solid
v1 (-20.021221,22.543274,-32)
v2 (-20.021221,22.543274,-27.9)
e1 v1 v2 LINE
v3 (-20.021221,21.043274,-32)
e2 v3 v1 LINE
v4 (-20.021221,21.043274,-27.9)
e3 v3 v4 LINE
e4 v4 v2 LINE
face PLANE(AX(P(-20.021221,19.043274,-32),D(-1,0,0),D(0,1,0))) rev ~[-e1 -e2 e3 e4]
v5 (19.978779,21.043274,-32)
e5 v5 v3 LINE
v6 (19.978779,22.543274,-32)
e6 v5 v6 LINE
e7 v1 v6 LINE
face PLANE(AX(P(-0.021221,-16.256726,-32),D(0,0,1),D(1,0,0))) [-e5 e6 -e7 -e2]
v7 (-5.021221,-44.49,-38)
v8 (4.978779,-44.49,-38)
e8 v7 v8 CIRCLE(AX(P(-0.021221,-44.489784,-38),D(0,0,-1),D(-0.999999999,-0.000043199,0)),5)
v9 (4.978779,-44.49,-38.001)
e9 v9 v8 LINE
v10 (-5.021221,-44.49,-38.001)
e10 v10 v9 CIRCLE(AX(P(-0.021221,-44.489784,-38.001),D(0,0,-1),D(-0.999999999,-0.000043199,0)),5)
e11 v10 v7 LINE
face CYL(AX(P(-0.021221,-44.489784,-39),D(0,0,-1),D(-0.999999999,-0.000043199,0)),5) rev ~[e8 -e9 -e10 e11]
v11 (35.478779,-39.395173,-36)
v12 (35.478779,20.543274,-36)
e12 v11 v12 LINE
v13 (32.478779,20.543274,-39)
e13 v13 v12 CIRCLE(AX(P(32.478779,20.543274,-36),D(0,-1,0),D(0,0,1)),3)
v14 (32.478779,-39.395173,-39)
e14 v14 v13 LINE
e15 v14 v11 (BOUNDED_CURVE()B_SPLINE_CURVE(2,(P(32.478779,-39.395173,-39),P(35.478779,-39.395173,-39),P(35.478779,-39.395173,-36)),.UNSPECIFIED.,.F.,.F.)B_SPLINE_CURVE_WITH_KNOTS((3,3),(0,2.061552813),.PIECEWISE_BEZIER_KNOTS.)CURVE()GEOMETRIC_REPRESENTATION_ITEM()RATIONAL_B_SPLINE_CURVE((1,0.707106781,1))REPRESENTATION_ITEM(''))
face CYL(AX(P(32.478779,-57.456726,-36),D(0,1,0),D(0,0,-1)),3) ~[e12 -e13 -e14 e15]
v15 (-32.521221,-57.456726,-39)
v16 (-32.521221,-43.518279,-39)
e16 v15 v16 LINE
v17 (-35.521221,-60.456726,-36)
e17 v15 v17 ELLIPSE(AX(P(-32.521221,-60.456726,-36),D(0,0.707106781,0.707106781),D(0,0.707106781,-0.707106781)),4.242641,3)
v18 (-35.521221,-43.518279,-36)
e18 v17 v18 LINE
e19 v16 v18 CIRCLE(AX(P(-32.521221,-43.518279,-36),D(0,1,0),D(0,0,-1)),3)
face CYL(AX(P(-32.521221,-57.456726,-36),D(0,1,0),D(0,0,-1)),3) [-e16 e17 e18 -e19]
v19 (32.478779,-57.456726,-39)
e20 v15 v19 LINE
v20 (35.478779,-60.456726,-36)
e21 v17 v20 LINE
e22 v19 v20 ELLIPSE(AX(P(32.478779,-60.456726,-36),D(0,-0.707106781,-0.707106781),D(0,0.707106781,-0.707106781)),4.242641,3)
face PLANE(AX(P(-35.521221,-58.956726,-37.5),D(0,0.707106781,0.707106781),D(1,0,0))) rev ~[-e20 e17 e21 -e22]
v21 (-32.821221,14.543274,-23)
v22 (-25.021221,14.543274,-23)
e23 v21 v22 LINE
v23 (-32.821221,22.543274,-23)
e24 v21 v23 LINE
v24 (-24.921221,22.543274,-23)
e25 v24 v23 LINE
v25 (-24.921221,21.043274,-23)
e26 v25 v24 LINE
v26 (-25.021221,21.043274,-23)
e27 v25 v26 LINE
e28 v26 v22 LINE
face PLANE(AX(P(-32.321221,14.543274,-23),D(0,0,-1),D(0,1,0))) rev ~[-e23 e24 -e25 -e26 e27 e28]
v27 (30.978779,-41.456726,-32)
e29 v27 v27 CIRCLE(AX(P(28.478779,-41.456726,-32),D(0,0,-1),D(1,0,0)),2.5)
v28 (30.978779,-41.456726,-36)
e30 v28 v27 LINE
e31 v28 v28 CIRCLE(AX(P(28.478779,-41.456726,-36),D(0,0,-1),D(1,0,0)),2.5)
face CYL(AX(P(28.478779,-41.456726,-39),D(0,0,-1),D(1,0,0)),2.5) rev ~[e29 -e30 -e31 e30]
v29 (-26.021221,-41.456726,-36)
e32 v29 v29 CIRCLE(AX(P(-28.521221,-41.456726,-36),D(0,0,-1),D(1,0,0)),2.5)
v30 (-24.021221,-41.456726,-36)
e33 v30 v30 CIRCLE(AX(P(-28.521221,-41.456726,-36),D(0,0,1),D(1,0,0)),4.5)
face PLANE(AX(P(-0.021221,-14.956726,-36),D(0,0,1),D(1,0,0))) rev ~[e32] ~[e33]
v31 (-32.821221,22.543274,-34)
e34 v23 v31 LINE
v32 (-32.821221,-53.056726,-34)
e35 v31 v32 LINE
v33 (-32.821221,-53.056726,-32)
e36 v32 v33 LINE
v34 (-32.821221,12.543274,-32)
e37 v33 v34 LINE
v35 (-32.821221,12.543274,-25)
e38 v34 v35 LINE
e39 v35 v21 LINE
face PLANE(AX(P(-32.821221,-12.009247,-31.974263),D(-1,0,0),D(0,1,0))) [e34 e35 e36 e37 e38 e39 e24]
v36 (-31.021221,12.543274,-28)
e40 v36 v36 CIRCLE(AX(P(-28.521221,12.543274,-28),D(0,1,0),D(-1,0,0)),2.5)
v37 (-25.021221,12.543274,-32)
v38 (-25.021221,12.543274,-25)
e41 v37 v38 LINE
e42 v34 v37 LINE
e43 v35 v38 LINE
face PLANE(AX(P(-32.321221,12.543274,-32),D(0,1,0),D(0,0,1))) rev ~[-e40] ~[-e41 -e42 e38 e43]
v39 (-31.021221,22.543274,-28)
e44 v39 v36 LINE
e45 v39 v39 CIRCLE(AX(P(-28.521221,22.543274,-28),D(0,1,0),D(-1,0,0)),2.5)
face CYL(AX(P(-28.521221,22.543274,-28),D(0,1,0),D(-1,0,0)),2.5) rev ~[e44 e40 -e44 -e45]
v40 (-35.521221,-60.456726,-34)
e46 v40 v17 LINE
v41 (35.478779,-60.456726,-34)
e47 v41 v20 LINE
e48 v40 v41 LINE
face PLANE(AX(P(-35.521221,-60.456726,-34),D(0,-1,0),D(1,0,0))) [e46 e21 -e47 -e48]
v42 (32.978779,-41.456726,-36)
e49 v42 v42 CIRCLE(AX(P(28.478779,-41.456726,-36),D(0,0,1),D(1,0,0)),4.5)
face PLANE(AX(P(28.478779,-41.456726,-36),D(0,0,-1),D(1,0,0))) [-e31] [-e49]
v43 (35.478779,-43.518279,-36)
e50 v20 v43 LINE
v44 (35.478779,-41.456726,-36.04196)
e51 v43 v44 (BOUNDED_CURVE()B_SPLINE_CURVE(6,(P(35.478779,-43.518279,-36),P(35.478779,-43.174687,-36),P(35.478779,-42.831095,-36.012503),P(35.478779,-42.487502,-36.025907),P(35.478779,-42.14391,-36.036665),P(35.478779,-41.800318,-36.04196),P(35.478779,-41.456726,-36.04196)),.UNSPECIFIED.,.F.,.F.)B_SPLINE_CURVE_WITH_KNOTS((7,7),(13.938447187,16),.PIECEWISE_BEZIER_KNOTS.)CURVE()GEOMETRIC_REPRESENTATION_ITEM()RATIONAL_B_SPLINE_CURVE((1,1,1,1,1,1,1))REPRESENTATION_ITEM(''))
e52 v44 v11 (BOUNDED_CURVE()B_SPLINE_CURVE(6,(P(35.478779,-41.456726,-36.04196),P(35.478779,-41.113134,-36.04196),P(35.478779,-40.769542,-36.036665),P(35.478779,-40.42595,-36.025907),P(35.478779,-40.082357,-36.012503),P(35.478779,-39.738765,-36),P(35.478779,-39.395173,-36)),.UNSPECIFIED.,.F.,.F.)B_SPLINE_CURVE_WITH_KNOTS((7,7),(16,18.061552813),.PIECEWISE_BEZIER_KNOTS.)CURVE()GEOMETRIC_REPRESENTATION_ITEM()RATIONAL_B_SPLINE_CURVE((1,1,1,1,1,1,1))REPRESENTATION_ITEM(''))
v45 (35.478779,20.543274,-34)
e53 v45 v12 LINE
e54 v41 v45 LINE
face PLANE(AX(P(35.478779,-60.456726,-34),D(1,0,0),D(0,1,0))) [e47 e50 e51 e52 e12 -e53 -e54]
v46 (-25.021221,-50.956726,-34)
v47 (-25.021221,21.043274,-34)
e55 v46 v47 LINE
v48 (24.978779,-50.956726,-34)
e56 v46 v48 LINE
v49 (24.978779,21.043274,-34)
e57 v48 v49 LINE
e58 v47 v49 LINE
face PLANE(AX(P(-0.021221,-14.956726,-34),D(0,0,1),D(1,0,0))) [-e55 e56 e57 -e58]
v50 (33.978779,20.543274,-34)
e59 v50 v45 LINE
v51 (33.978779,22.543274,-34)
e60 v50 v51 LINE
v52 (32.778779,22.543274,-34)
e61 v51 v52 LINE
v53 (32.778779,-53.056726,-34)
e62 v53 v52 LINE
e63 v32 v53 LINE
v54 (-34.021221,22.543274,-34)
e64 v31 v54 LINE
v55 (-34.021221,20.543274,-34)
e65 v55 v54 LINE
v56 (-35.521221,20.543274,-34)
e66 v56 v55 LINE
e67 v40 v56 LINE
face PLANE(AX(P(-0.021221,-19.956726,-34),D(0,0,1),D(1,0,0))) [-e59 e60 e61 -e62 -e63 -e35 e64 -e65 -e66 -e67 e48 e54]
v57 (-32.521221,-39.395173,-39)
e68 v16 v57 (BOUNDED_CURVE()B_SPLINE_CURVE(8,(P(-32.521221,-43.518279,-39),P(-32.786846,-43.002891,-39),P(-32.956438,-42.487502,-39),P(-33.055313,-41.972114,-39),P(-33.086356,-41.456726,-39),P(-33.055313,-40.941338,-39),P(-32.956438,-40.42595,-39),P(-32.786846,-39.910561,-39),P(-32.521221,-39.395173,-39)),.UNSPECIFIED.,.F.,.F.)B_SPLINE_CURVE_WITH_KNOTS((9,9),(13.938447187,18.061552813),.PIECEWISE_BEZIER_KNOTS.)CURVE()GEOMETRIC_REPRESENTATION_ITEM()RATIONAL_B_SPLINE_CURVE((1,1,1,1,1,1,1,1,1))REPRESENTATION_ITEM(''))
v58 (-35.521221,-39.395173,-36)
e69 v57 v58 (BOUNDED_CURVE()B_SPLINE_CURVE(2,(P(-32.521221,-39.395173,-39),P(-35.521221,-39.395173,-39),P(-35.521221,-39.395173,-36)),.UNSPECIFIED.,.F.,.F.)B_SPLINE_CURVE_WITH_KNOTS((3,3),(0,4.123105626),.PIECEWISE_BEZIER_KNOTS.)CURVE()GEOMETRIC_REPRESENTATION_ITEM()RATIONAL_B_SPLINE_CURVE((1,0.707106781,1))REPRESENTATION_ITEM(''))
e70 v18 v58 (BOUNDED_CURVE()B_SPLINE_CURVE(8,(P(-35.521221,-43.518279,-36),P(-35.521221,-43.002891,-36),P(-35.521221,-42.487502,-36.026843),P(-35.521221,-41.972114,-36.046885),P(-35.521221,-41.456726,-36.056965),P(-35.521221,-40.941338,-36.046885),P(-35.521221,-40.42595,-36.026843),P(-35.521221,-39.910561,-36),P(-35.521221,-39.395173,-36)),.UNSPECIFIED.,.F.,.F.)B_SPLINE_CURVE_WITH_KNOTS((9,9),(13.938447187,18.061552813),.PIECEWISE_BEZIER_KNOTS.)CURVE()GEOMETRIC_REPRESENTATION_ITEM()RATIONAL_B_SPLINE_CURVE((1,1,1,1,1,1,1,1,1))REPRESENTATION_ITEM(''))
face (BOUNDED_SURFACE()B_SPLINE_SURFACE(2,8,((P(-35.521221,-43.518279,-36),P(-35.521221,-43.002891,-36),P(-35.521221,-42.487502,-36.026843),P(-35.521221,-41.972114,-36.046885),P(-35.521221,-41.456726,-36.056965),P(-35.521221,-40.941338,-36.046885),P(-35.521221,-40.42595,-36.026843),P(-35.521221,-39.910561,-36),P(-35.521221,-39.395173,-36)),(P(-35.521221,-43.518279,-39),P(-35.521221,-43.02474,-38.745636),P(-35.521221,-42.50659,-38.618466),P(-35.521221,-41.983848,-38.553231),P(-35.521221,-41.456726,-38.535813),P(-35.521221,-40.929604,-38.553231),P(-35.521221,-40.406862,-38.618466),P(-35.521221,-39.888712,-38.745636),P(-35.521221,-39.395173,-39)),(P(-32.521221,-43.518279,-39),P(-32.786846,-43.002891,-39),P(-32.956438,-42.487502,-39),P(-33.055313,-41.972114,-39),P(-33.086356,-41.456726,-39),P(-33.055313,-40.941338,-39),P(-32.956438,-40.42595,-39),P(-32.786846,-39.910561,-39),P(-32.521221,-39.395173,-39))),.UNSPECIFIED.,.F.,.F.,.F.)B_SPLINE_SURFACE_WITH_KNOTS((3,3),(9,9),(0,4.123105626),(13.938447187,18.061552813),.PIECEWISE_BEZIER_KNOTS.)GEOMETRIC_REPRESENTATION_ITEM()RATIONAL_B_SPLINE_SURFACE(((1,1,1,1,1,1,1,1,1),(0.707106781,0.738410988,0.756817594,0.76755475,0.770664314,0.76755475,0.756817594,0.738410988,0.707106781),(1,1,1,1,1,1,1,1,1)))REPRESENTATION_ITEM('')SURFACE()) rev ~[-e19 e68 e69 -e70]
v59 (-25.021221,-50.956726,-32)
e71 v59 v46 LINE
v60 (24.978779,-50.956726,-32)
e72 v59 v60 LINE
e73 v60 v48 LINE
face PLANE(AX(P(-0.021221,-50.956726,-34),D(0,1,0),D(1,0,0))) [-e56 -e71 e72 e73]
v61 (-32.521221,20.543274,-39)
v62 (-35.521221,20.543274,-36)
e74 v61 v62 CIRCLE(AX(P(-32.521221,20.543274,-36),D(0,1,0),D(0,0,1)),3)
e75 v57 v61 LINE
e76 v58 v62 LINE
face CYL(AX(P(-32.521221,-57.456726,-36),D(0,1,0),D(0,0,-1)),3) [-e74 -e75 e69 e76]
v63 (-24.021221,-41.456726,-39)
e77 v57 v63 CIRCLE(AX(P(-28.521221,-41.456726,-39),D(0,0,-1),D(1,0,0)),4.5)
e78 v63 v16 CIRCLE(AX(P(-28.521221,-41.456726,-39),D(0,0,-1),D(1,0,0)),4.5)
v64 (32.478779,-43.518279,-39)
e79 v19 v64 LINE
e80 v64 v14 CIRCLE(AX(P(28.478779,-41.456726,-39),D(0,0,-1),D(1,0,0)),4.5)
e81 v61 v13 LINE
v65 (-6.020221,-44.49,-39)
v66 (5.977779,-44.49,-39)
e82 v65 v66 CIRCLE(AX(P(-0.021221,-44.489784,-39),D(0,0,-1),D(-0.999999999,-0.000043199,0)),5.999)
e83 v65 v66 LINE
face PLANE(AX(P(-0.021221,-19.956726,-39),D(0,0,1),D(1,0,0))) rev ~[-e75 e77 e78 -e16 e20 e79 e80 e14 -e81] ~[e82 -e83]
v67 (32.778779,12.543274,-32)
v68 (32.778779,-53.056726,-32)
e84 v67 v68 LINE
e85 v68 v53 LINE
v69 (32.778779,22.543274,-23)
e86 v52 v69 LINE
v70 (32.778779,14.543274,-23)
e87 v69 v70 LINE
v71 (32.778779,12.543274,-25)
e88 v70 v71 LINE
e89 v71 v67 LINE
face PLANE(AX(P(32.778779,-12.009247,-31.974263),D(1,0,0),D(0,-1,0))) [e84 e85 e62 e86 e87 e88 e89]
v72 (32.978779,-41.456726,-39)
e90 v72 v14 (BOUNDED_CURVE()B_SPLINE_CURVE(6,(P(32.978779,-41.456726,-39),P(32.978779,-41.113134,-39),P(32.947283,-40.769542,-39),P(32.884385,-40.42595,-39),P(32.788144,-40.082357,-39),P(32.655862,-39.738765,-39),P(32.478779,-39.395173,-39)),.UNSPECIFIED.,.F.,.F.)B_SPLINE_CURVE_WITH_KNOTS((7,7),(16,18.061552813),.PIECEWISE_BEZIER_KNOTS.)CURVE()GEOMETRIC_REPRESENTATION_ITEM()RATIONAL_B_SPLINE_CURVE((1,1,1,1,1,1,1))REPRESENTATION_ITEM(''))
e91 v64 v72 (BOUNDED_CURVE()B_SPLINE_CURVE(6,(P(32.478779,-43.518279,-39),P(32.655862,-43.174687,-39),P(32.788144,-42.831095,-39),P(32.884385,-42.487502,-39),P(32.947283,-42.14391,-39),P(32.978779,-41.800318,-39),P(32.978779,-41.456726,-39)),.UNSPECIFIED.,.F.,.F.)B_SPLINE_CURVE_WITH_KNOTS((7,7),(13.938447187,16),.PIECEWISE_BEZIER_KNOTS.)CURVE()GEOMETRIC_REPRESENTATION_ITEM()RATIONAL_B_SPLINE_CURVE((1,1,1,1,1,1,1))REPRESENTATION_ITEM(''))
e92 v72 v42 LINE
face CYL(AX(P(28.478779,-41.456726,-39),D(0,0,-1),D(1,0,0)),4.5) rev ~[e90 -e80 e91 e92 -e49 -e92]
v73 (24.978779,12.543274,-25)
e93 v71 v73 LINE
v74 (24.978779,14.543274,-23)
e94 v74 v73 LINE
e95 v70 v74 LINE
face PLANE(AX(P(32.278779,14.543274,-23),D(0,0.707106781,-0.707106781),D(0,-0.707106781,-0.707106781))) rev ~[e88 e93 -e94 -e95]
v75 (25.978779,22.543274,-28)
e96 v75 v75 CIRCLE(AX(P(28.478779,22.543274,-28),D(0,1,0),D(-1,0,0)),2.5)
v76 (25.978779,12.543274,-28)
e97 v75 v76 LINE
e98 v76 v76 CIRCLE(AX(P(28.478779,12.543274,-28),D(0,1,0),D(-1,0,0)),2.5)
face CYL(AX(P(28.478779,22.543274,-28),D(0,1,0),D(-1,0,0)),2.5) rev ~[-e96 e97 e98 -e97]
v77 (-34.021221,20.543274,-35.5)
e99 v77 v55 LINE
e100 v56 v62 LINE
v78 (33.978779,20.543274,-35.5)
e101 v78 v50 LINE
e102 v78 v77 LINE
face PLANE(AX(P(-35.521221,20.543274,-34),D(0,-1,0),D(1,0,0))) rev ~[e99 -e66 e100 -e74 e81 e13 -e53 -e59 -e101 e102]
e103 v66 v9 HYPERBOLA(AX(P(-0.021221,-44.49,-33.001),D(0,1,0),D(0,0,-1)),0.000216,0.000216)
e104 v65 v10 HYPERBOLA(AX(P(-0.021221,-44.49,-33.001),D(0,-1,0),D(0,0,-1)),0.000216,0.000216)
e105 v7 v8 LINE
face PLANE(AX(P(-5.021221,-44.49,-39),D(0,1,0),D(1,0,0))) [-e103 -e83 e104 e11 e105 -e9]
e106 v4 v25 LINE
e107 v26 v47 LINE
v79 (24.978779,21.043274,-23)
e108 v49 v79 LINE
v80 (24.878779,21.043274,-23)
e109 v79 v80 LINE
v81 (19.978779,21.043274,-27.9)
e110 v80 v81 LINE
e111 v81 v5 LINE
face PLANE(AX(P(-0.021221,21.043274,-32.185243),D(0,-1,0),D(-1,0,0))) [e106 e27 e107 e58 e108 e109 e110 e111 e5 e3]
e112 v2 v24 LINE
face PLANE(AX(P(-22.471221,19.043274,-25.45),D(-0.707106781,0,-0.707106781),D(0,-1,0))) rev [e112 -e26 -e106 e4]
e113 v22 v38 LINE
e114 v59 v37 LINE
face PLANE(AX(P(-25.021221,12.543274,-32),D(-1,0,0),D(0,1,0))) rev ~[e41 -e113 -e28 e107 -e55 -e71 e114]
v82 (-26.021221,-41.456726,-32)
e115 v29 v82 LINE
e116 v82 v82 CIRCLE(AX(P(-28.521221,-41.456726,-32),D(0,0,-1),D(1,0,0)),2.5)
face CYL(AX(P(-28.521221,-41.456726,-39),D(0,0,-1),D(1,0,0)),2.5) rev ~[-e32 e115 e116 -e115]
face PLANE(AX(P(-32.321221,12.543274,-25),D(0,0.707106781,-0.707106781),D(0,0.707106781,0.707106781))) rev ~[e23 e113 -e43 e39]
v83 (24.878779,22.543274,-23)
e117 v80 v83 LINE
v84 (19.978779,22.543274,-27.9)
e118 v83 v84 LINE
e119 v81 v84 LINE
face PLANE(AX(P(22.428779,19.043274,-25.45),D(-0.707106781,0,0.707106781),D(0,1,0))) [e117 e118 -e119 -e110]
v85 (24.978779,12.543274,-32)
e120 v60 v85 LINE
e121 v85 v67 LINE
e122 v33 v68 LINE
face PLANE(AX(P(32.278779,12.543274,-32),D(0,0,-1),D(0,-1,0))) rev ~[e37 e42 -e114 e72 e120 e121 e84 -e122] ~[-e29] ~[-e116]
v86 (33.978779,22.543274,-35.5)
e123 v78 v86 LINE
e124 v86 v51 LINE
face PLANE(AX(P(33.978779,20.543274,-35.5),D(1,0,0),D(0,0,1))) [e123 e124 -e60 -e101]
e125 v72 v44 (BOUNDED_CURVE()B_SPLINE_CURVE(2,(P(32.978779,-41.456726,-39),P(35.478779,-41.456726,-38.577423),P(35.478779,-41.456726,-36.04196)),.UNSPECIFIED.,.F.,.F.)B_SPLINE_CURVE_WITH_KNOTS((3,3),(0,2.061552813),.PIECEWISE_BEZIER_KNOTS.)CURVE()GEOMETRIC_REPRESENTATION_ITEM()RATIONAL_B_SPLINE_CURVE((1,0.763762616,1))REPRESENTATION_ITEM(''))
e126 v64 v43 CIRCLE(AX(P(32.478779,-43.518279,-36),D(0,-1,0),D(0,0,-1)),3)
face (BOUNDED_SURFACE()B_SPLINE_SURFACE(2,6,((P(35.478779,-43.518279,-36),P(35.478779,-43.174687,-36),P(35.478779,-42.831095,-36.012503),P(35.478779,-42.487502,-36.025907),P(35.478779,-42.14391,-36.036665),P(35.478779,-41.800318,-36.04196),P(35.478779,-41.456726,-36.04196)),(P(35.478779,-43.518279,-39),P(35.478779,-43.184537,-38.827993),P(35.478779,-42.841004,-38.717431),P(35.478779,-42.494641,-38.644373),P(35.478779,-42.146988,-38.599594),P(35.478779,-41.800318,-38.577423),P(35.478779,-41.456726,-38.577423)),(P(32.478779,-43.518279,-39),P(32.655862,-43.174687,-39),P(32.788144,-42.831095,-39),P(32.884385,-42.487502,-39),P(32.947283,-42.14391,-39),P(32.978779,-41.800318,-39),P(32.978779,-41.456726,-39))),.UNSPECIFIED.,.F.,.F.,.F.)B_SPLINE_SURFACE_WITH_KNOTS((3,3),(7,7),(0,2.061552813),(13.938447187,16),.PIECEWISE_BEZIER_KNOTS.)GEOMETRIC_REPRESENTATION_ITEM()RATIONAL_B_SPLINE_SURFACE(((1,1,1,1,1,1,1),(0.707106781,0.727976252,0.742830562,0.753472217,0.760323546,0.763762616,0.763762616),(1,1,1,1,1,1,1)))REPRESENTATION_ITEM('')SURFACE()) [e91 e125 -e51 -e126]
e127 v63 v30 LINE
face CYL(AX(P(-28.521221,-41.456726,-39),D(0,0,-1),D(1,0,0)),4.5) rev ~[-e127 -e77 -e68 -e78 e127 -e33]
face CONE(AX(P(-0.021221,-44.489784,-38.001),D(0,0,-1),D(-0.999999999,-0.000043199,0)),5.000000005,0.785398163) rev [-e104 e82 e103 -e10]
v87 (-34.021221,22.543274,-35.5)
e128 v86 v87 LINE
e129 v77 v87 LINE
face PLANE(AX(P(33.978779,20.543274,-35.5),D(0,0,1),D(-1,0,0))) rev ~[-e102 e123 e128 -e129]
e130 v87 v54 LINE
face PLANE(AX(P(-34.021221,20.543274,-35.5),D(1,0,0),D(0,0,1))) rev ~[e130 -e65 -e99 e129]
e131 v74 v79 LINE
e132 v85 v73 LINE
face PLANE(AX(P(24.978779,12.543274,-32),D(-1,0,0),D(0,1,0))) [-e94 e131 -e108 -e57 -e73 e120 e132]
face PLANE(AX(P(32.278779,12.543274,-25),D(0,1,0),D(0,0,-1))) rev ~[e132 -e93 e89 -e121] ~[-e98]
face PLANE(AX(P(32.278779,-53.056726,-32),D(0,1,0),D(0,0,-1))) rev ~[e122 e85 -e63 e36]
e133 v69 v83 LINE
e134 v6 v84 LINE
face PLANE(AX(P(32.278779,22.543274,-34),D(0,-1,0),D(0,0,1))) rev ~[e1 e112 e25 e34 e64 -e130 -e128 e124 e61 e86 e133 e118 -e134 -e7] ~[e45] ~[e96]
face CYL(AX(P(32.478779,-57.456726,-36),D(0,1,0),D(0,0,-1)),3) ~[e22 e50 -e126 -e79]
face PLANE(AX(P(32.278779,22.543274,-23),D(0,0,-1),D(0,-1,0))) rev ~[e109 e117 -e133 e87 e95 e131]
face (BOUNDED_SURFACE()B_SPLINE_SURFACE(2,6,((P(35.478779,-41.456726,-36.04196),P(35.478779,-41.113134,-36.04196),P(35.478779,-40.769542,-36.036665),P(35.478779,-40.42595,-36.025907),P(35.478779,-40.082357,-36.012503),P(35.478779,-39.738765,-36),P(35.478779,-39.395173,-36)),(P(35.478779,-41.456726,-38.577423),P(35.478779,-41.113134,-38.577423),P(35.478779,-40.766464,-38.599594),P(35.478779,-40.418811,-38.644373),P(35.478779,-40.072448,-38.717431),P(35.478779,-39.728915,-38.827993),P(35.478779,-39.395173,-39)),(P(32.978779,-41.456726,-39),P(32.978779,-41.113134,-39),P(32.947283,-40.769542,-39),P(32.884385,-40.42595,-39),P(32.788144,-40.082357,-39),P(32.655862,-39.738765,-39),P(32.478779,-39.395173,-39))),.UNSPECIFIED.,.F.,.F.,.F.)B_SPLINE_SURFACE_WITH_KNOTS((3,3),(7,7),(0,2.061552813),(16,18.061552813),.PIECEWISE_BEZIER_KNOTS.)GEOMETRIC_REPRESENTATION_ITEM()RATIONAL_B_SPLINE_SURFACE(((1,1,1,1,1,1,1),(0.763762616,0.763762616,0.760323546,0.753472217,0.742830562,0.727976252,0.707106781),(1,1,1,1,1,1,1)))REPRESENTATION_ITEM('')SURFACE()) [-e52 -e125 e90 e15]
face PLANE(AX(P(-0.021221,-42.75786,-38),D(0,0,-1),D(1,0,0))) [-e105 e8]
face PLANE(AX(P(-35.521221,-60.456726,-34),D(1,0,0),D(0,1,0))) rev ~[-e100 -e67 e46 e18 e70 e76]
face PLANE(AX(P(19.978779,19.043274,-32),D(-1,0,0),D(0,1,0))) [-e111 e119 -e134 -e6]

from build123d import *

# Parameters (mm, degrees)
SKETCH028_W        = 71
SKETCH028_H        = 81
PAD014_DEPTH       = 5
SKETCH034_W        = 68
SKETCH034_H        = 1.5
PAD017_DEPTH       = 2
SKETCH035_W        = 64.6
SKETCH035_H        = 77.6
PAD018_DEPTH       = 2
SKETCH036_W        = 50
SKETCH036_H        = 72
POCKET028_DEPTH    = 4
SKETCH039_W        = 7.3
SKETCH039_H        = 10
PAD020_DEPTH       = 9
SKETCH040_W        = 5
SKETCH040_H        = 3.5
PAD021_DEPTH       = 9
CHAMFER006_SIZE    = 4.9
SKETCH041_R        = 2.5
POCKET031_DEPTH    = 10
SKETCH047_R        = 2.5
POCKET043_DEPTH    = 10
SKETCH051_R        = 4.5
POCKET044_DEPTH    = 3
POCKET044_FACE29_W = 64.6
POCKET044_FACE29_H = 2
POCKET045_DEPTH    = 2
POCKET045_FACE16_W = 50
POCKET045_FACE16_H = 4
PAD035_DEPTH       = 2
POCKET046_DEPTH    = 2
CHAMFER012_SIZE    = 3
CHAMFER018_SIZE    = 2
SKETCH063_W        = 50
SKETCH063_H        = 72
PAD040_DEPTH       = 2
PAD040_FACE37_W    = 0.5
PAD040_FACE37_H    = 50
POCKET056_DEPTH    = 0.5
PAD042_DEPTH       = 0.5
PAD043_DEPTH       = 0.5
POCKET064_DEPTH    = 1
CHAMFER022_SIZE    = 0.999
FILLET006_R        = 3


with BuildPart() as part:
    # Sketch028 → Pad014 (new body)
    with BuildSketch(Plane.XY):
        with Locations((-0.121221, -9.466726)):
            Rectangle(SKETCH028_W, SKETCH028_H)
    extrude(amount=-PAD014_DEPTH)

    # Sketch034 (on Face1 of Pad014) → Pad017 (join)
    with BuildSketch(Plane(origin=(0, 31.033274, 0), x_dir=(-1, 0, 0), z_dir=(0, 1, 0))):
        with Locations((0.121221, -0.75)):
            Rectangle(SKETCH034_W, SKETCH034_H)
    extrude(amount=PAD017_DEPTH)

    # Sketch035 (on Face10 of Pad017) → Pad018 (join)
    with BuildSketch(Plane.XY):
        with Locations((-0.121221, -5.766726)):
            Rectangle(SKETCH035_W, SKETCH035_H)
    extrude(amount=PAD018_DEPTH)

    # Sketch036 (on Face13 of Pad018) → Pocket028 (cut)
    with BuildSketch(Plane.XY.offset(2)):
        with Locations((-0.121221, -6.466726)):
            Rectangle(SKETCH036_W, SKETCH036_H)
    extrude(amount=-POCKET028_DEPTH, mode=Mode.SUBTRACT)

    # Sketch039 (on Face14 of Pocket028) → Pad020 (join)
    with BuildSketch(Plane.XY.offset(2)):
        with Locations((28.528779, 28.033274)):
            Rectangle(SKETCH039_W, SKETCH039_H)
        with Locations((-28.771221, 28.033274)):
            Rectangle(SKETCH039_W, SKETCH039_H)
    extrude(amount=PAD020_DEPTH)

    # Sketch040 (on Face1 of Pad020) → Pad021 (join)
    with BuildSketch(Plane.XY.offset(2)):
        with Locations((-22.621221, 31.283274)):
            Rectangle(SKETCH040_W, SKETCH040_H)
        with Locations((22.378779, 31.283274)):
            Rectangle(SKETCH040_W, SKETCH040_H)
    extrude(amount=PAD021_DEPTH)

    # Chamfer006
    chamfer006_edges = [part.edges().sort_by_distance(p)[0] for p in [
        (-20.121221, 31.283274, 11),
        (19.878779, 31.283274, 11),
    ]]
    chamfer(chamfer006_edges, length=CHAMFER006_SIZE)

    # Sketch041 (on Face12 of Chamfer006) → Pocket031 (cut)
    with BuildSketch(Plane(origin=(0, 33.033274, 0), x_dir=(-1, 0, 0), z_dir=(0, 1, 0))):
        with Locations((-28.378779, 6)):
            Circle(SKETCH041_R)
        with Locations((28.621221, 6)):
            Circle(SKETCH041_R)
    extrude(amount=-POCKET031_DEPTH, mode=Mode.SUBTRACT)

    # Sketch047 (on Face30 of Pocket031) → Pocket043 (cut)
    with BuildSketch(Plane(origin=(0, 0, -5), x_dir=(1, 0, 0), z_dir=(0, 0, -1))):
        with Locations((-28.621221, 30.966726)):
            Circle(SKETCH047_R)
        with Locations((28.378779, 30.966726)):
            Circle(SKETCH047_R)
    extrude(amount=-POCKET043_DEPTH, mode=Mode.SUBTRACT)

    # Sketch051 (on Face32 of Pocket043) → Pocket044 (cut)
    with BuildSketch(Plane(origin=(0, 0, -5), x_dir=(1, 0, 0), z_dir=(0, 0, -1))):
        with Locations((-28.621221, 30.966726)):
            Circle(SKETCH051_R)
        with Locations((28.378779, 30.966726)):
            Circle(SKETCH051_R)
    extrude(amount=-POCKET044_DEPTH, mode=Mode.SUBTRACT)

    # Pocket044 Face29 → Pocket045 (cut)
    with BuildSketch(Plane(origin=(-0.121221, -44.566726, 1), x_dir=(-1, 0, 0), z_dir=(0, -1, 0))):
        Rectangle(POCKET044_FACE29_W, POCKET044_FACE29_H)
    extrude(amount=-POCKET045_DEPTH, mode=Mode.SUBTRACT)

    # Pocket045 Face16 → Pad035 (add)
    with BuildSketch(Plane(origin=(-0.121221, -42.466726, 0), x_dir=(1, 0, 0), z_dir=(0, 1, 0))):
        Rectangle(POCKET045_FACE16_W, POCKET045_FACE16_H)
    extrude(amount=PAD035_DEPTH)

    # Pad035 Face1 → Pocket046 (cut)
    with BuildSketch(Plane(origin=(-0.121221, 29.533274, 1.353834), x_dir=(-1, 0, 0), z_dir=(0, -1, 0))):
        Polygon((-25, -9.646166), (-24.9, -9.646166), (-20, -4.746166), (-20, -0.646166), (20, -0.646166), (20, -4.746166), (24.9, -9.646166), (25, -9.646166), (25, 3.353834), (-25, 3.353834), align=None)
    extrude(amount=-POCKET046_DEPTH, mode=Mode.SUBTRACT)

    # Chamfer012
    chamfer012_edges = [part.edges().sort_by_distance(p)[0] for p in [
        (-0.121221, -49.966726, -5),
    ]]
    chamfer(chamfer012_edges, length=CHAMFER012_SIZE)

    # Chamfer018
    chamfer018_edges = [part.edges().sort_by_distance(p)[0] for p in [
        (-28.771221, 23.033274, 11),
        (28.528779, 23.033274, 11),
    ]]
    chamfer(chamfer018_edges, length=CHAMFER018_SIZE)

    # Sketch063 (on Face10 of Chamfer018) → Pad040 (join)
    with BuildSketch(Plane.XY.offset(-2)):
        with Locations((-0.121221, -4.466726)):
            Rectangle(SKETCH063_W, SKETCH063_H)
    extrude(amount=PAD040_DEPTH)

    # Pad040 Face37 → Pocket056 (cut)
    with BuildSketch(Plane(origin=(-0.121221, 31.283274, -2), x_dir=(0, -1, 0), z_dir=(0, 0, -1))):
        Rectangle(PAD040_FACE37_W, PAD040_FACE37_H)
    extrude(amount=-POCKET056_DEPTH, mode=Mode.SUBTRACT)

    # Pocket056 Face9 → Pad042 (add)
    with BuildSketch(Plane(origin=(-32.421221, 7.336396, 2.99136), x_dir=(0, 1, 0), z_dir=(-1, 0, 0))):
        Polygon((17.696878, -8.00864), (25.696878, -8.00864), (25.696878, 2.99136), (-49.903122, 2.99136), (-49.903122, 0.99136), (15.696878, 0.99136), (15.696878, -6.00864), align=None)
    extrude(amount=PAD042_DEPTH)

    # Pad042 Face19 → Pad043 (add)
    with BuildSketch(Plane(origin=(32.178779, 7.336396, 2.99136), x_dir=(0, -1, 0), z_dir=(1, 0, 0))):
        Polygon((-15.696878, -6.00864), (-15.696878, 0.99136), (49.903122, 0.99136), (49.903122, 2.99136), (-25.696878, 2.99136), (-25.696878, -8.00864), (-17.696878, -8.00864), align=None)
    extrude(amount=PAD043_DEPTH)

    # Sketch066 (on Face22 of Pad043) → Pocket064 (cut)
    with BuildSketch(Plane(origin=(0, 0, -5), x_dir=(1, 0, 0), z_dir=(0, 0, -1))):
        with BuildLine():
            ThreePointArc((-5.121221, 34), (-0.121221, 28.999784), (4.878779, 34))
            Line((-5.121221, 34), (4.878779, 34))
        make_face()
    extrude(amount=-POCKET064_DEPTH, mode=Mode.SUBTRACT)

    # Chamfer022
    chamfer022_edges = [part.edges().sort_by_distance(p)[0] for p in [
        (-0.121221, -28.999784, -5),
    ]]
    chamfer(chamfer022_edges, length=CHAMFER022_SIZE)

    # Fillet006
    fillet006_edges = [part.edges().sort_by_distance(p)[0] for p in [
        (-35.621221, -7.966726, -5),
        (35.378779, -7.966726, -5),
    ]]
    fillet(fillet006_edges, radius=FILLET006_R)


with BuildPart() as part_1:
    # Body004 placement: moved
    add(part.part.moved(Location((0.1, -10.49, -34))))


solid = part_1.part
